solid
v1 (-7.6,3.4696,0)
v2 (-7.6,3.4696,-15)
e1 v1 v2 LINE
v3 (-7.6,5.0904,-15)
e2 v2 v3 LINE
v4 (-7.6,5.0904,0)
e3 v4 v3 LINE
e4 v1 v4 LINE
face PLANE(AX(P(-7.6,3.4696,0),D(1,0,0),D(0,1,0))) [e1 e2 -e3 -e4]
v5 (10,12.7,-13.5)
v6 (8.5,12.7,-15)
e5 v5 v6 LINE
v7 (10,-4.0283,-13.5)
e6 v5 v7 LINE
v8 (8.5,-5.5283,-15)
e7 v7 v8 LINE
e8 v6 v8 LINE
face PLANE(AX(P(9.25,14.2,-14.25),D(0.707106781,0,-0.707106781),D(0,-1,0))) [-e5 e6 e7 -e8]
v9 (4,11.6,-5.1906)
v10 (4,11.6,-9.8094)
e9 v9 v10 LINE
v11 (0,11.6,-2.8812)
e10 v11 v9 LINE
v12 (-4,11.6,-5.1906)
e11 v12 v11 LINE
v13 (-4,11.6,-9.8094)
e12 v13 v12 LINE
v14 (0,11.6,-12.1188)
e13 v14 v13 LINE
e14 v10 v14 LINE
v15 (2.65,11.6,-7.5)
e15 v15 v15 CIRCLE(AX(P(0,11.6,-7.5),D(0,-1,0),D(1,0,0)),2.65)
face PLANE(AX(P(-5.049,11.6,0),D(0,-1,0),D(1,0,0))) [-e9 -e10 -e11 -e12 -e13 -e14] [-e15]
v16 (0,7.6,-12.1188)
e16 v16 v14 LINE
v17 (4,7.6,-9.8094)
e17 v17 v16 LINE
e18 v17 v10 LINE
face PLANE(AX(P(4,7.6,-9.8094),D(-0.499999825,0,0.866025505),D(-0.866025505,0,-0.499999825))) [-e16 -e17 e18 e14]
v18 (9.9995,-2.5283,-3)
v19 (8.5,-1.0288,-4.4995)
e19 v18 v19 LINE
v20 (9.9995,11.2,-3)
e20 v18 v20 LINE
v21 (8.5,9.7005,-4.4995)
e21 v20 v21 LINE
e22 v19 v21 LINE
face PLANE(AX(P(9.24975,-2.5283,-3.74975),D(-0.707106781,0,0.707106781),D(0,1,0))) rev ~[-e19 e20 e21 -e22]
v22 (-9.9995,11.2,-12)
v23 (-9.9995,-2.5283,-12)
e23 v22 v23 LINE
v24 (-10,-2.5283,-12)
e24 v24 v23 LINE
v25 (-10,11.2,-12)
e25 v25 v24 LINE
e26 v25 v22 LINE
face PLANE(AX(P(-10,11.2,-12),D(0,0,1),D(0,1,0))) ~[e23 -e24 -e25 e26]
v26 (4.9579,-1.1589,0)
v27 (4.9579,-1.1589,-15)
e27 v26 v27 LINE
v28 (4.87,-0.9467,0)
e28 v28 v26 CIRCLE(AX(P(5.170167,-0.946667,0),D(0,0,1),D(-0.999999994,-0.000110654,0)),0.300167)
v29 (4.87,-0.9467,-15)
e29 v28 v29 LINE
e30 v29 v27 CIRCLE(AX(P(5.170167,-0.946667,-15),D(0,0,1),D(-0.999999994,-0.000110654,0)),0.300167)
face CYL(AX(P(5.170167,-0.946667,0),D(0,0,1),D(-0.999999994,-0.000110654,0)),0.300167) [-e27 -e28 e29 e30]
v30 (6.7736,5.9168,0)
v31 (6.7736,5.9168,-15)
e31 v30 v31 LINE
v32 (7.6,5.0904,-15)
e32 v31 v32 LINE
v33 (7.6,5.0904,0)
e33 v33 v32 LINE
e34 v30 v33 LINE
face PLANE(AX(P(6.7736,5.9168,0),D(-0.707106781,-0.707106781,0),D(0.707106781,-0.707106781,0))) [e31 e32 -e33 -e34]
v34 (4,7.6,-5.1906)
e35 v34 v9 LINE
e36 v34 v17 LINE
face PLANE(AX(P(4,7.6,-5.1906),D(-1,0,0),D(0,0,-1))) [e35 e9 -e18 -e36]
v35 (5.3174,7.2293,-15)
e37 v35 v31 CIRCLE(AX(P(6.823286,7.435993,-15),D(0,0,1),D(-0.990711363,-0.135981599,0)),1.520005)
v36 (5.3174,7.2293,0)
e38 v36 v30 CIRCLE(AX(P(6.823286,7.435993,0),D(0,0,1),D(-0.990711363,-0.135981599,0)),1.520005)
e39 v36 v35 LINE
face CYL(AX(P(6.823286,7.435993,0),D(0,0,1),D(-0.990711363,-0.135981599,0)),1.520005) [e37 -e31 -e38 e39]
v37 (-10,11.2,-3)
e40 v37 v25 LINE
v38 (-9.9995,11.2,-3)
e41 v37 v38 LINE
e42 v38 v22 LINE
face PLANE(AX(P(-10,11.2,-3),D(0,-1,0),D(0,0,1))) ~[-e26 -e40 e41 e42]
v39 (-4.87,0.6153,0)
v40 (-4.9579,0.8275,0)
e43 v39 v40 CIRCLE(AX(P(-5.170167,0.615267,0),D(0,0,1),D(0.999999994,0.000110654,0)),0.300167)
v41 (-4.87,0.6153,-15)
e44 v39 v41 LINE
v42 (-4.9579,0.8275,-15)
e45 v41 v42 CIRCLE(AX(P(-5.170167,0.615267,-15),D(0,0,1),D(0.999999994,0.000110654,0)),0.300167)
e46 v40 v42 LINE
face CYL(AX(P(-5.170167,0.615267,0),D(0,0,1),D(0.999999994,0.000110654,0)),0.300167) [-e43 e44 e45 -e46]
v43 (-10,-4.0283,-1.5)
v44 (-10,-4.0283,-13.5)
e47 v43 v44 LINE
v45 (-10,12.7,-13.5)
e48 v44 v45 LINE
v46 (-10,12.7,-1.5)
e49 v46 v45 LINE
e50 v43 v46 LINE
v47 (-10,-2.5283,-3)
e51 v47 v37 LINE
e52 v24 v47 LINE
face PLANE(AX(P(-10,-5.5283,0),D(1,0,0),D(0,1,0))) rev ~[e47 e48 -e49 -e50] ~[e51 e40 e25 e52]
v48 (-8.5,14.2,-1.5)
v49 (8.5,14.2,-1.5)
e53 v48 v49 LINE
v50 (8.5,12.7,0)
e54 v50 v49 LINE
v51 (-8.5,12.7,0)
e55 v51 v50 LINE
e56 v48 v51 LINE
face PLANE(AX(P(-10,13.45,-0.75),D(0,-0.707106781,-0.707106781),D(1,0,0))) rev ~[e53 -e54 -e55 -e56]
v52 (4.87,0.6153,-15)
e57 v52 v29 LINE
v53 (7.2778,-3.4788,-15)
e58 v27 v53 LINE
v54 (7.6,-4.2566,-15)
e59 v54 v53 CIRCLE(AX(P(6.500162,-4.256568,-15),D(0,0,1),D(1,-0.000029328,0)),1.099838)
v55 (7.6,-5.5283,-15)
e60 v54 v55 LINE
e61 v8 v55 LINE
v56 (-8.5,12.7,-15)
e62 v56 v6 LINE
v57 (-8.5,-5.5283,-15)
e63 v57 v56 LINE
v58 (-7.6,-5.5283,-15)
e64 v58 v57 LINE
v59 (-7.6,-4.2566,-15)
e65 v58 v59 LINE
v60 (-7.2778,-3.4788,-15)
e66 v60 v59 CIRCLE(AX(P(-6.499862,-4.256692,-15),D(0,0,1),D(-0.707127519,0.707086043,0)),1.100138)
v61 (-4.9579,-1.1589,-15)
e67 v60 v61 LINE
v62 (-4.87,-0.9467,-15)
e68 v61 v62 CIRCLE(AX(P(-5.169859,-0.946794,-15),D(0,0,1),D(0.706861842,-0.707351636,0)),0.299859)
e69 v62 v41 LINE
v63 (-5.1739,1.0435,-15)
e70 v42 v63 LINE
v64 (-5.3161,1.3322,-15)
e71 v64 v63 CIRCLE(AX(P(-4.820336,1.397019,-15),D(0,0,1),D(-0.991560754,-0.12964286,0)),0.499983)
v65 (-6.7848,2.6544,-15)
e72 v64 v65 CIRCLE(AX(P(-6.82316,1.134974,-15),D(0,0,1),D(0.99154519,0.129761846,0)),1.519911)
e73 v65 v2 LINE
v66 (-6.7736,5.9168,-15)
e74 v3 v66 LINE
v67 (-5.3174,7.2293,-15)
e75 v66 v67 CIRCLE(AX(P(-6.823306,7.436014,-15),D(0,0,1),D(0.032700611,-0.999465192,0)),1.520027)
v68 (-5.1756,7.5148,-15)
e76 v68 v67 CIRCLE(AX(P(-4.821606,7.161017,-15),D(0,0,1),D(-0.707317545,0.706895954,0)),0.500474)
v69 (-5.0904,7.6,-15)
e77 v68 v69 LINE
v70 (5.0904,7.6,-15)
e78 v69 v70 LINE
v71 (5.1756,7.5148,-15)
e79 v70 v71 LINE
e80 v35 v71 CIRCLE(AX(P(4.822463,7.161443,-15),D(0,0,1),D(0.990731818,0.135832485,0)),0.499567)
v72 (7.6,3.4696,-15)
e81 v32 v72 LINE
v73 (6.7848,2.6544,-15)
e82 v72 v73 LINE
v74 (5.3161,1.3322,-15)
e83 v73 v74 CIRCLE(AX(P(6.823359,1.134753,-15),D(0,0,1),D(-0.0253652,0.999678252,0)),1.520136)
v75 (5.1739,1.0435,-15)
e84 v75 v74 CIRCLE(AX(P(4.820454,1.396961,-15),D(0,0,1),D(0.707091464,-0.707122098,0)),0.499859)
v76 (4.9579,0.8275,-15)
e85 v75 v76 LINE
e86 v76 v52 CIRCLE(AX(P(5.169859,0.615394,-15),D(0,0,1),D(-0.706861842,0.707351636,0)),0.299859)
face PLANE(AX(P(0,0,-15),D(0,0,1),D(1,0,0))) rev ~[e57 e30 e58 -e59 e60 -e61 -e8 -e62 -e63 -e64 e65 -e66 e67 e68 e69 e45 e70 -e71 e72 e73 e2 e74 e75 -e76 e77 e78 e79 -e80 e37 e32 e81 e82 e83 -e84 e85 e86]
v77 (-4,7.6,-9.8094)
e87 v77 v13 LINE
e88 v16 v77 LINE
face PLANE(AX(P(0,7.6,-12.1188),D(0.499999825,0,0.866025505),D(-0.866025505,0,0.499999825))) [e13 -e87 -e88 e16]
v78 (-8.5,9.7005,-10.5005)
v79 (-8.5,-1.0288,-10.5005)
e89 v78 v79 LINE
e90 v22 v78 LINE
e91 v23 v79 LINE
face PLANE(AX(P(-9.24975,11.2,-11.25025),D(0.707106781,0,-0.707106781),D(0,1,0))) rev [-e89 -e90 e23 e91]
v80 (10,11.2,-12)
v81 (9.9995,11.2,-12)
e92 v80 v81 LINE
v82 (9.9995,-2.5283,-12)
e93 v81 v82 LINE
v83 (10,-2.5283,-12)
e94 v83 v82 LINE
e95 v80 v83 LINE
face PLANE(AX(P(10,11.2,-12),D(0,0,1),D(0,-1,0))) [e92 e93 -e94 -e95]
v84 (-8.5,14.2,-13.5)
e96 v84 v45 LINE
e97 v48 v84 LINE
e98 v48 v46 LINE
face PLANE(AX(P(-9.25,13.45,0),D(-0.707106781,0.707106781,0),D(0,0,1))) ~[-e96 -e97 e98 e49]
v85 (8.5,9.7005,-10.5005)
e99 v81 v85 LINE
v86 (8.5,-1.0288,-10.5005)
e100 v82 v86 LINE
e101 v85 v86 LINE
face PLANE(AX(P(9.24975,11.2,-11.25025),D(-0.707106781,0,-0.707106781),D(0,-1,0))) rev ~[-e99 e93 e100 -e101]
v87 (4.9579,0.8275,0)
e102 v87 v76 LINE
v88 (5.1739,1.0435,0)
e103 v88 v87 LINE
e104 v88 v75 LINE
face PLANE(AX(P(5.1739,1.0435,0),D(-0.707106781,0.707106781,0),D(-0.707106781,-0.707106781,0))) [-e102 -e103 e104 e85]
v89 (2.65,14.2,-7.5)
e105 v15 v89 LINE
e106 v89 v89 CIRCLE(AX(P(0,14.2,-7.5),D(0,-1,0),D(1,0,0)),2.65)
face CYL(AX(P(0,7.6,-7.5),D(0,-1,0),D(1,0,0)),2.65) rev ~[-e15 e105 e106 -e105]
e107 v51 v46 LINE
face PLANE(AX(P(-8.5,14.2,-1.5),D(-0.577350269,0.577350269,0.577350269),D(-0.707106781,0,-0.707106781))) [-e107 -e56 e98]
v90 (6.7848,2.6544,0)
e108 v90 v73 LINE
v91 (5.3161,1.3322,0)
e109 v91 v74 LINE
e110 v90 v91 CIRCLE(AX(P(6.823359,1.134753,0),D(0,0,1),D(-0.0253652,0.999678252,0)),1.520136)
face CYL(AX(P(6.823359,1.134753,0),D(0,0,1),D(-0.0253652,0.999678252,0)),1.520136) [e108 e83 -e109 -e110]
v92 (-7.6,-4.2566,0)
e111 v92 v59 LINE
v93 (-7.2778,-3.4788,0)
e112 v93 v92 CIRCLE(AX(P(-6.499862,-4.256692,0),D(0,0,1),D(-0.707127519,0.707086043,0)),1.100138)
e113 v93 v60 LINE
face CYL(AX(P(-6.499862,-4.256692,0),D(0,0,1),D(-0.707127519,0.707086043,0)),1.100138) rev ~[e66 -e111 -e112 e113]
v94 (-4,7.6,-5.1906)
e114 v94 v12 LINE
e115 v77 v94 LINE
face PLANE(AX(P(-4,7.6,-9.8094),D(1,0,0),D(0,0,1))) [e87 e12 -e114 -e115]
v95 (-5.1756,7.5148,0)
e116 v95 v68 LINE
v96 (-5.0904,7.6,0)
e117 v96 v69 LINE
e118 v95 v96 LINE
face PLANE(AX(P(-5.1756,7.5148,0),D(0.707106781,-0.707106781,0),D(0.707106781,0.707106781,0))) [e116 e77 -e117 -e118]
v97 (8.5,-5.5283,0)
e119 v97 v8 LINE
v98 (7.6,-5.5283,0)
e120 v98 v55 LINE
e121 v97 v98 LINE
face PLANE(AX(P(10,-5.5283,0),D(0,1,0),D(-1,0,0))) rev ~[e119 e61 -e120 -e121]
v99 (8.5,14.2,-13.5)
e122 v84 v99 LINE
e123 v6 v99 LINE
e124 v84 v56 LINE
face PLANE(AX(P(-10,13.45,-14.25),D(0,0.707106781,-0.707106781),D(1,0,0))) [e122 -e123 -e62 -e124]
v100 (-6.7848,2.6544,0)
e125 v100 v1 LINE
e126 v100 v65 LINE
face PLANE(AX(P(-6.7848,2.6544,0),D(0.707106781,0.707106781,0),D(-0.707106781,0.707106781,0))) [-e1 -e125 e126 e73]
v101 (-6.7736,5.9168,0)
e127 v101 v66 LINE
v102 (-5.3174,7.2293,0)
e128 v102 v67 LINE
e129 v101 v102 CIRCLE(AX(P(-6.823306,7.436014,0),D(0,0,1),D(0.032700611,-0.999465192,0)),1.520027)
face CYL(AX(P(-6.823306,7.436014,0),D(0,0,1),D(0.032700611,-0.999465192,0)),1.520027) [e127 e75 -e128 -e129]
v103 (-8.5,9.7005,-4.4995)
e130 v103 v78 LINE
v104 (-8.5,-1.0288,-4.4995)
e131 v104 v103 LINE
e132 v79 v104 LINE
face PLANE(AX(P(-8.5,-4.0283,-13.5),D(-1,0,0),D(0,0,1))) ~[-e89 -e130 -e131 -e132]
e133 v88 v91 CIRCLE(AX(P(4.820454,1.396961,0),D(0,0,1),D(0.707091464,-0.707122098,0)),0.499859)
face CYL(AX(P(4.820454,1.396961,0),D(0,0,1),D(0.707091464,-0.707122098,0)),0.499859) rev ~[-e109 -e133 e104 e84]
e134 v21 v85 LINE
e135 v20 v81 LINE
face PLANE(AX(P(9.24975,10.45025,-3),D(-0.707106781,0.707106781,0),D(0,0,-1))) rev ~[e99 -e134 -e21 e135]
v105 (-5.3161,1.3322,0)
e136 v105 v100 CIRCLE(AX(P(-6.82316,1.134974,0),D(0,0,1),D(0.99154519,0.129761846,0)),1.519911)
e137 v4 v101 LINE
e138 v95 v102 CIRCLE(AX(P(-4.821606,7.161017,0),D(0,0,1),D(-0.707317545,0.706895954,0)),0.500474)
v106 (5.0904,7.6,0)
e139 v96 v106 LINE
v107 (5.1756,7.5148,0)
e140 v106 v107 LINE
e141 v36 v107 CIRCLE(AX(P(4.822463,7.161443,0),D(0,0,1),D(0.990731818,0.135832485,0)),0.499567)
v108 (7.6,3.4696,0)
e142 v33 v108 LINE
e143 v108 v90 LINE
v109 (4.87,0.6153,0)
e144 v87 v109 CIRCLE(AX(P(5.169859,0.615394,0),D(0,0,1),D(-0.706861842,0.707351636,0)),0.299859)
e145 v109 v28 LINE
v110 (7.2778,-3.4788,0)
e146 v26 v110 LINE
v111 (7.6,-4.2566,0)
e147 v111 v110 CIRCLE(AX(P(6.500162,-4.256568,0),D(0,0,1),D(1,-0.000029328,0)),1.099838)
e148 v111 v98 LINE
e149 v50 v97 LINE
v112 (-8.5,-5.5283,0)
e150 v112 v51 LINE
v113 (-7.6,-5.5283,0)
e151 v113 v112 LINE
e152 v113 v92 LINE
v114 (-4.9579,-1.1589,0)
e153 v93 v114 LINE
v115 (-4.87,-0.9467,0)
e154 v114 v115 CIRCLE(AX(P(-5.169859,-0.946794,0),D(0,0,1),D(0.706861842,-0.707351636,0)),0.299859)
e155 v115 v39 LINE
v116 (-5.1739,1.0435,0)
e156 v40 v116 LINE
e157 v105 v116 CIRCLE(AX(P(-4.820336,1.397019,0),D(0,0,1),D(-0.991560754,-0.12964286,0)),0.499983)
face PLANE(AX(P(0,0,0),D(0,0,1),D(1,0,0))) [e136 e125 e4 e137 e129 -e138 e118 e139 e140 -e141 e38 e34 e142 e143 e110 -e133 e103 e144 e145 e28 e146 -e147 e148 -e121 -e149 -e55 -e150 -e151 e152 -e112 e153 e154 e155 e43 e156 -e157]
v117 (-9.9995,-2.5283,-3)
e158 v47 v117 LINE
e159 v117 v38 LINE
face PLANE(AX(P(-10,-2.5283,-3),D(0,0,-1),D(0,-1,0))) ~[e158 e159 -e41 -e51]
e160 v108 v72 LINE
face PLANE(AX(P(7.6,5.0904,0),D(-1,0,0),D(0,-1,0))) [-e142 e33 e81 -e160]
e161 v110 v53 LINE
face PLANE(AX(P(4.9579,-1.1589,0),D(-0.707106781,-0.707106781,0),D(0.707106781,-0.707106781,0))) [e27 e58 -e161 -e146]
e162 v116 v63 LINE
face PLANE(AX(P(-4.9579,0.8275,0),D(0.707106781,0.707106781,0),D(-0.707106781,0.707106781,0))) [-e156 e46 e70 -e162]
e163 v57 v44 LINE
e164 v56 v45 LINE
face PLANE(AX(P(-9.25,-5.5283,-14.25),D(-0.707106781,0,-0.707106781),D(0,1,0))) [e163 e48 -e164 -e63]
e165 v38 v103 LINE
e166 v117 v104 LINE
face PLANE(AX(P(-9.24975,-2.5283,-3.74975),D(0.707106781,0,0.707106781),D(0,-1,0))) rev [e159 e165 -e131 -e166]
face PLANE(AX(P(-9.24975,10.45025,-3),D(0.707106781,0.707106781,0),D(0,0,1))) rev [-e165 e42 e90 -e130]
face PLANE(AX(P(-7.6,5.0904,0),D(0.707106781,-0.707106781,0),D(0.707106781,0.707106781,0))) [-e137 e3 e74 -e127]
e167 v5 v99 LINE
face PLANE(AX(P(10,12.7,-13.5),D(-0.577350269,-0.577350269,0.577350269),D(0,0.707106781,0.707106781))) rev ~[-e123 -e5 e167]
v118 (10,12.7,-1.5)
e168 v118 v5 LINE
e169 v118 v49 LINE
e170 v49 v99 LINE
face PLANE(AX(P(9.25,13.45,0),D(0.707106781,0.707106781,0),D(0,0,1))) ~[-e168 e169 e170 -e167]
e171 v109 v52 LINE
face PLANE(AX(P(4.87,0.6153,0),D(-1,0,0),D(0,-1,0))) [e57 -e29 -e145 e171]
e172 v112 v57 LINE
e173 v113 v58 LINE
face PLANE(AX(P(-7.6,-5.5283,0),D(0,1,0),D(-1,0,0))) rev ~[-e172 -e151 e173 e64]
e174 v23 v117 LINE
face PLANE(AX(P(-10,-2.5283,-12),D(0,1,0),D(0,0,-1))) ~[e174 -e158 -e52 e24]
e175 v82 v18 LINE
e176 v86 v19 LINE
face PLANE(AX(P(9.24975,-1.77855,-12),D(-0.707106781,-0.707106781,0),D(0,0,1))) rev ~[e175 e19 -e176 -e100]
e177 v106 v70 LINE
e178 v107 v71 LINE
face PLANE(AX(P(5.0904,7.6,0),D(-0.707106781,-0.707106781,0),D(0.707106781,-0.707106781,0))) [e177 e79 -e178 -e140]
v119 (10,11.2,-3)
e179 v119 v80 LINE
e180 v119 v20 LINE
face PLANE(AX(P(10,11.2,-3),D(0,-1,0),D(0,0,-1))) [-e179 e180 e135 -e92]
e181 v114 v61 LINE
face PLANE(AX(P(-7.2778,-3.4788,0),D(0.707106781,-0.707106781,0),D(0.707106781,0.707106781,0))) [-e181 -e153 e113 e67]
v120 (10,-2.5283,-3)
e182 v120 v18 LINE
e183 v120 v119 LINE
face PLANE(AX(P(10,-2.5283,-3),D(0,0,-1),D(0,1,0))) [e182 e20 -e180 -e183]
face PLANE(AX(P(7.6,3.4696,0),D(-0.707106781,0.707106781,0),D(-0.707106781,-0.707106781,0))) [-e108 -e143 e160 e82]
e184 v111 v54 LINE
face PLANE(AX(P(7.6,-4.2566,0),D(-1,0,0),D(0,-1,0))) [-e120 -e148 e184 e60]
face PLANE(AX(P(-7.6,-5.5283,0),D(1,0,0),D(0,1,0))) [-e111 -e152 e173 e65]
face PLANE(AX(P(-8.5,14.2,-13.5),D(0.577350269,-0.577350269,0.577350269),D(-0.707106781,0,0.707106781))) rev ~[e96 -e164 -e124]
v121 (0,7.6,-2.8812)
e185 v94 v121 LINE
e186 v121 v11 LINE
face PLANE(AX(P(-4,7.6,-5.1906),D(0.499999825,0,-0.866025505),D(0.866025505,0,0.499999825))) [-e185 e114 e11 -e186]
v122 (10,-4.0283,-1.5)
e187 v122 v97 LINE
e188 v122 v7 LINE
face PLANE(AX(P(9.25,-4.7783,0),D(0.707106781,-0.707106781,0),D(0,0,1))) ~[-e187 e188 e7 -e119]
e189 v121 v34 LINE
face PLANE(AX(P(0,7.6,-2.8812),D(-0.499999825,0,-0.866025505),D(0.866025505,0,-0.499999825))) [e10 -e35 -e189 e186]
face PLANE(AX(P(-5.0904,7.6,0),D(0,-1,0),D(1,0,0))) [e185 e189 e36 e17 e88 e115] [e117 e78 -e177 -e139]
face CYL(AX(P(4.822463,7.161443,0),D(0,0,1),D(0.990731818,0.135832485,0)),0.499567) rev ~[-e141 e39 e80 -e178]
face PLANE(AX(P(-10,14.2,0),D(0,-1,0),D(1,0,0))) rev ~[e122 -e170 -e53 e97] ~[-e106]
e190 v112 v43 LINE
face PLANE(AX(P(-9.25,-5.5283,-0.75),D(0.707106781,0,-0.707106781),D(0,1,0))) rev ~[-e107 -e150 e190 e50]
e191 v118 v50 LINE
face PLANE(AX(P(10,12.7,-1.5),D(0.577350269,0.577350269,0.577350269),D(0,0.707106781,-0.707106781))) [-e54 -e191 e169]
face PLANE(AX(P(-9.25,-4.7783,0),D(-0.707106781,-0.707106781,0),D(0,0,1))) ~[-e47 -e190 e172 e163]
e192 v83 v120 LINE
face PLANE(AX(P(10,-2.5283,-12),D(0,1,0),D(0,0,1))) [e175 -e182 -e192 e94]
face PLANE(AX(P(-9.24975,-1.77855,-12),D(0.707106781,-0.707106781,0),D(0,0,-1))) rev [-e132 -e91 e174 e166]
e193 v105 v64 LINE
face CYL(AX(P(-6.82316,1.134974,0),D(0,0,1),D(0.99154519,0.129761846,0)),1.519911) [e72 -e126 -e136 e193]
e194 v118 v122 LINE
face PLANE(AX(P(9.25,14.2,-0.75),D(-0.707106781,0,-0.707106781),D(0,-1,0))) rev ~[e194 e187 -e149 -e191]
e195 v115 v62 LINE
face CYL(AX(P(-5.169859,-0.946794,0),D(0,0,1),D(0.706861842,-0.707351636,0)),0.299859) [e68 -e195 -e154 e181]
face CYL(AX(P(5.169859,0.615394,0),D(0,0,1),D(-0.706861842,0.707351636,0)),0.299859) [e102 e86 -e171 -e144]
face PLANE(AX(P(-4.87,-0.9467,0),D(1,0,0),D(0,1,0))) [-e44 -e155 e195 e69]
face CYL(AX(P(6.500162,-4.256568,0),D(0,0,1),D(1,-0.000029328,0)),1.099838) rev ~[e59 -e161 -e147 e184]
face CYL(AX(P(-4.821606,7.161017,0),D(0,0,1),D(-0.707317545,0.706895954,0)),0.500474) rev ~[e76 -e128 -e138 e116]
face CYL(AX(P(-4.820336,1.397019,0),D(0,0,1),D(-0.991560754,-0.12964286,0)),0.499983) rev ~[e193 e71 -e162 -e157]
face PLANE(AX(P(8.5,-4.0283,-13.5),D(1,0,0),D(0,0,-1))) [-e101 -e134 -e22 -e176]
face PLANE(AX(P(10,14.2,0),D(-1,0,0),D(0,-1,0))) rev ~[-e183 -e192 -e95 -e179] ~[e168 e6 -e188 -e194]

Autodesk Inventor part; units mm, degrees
ref_plane "YZ Plane" through (0, 0, 0) normal (1, 0, 0) x (0, 1, 0)
ref_plane "XZ Plane" through (0, 0, 0) normal (0, 1, 0) x (-1, 0, 0)
ref_plane "XY Plane" through (0, 0, 0) normal (0, 0, 1) x (1, 0, 0)
sketch "Sketch1" plane through (0, 0, 0) normal (0, 0, 1) x (1, 0, 0)
  arc A0 (-5.217, 1.3451) -> (-5.1032, 1.1142) centre (-4.8204, 1.397) ccw projected
  line L0 (-5.1032, 1.1142) -> (-4.8872, 0.8982) projected
  arc A1 (-4.77, 0.6153) -> (-4.8872, 0.8982) centre (-5.17, 0.6153) ccw projected
  line L1 (-4.77, 0.6153) -> (-4.77, -0.9467) projected
  arc A2 (-4.8872, -1.2296) -> (-4.77, -0.9467) centre (-5.17, -0.9467) ccw projected
  line L2 (-4.8872, -1.2296) -> (-7.2071, -3.5495) projected
  arc A3 (-7.2071, -3.5495) -> (-7.5, -4.2566) centre (-6.5, -4.2566) ccw projected
  line L3 (-7.5, -4.2566) -> (-7.5, -6.8) projected
  line L4 (-7.5, -6.8) -> (-6.8, -7.5) projected
  line L5 (-6.8, -7.5) -> (6.8, -7.5) projected
  line L6 (6.8, -7.5) -> (7.5, -6.8) projected
  line L7 (7.5, -6.8) -> (7.5, -4.2566) projected
  arc A4 (7.5, -4.2566) -> (7.2071, -3.5495) centre (6.5, -4.2566) ccw projected
  line L8 (7.2071, -3.5495) -> (4.8872, -1.2296) projected
  arc A5 (4.77, -0.9467) -> (4.8872, -1.2296) centre (5.17, -0.9467) ccw projected
  line L9 (4.77, -0.9467) -> (4.77, 0.6153) projected
  arc A6 (4.8872, 0.8982) -> (4.77, 0.6153) centre (5.17, 0.6153) ccw projected
  line L10 (4.8872, 0.8982) -> (5.1032, 1.1142) projected
  arc A7 (5.1032, 1.1142) -> (5.217, 1.3451) centre (4.8204, 1.397) ccw projected
  arc A8 (6.7419, 2.7529) -> (5.217, 1.3451) centre (6.8233, 1.1349) ccw projected
  line L11 (6.7419, 2.7529) -> (7.5, 3.511) projected
  line L12 (7.5, 3.511) -> (7.5, 5.049) projected
  line L13 (7.5, 5.049) -> (6.7304, 5.8186) projected
  arc A9 (5.2183, 7.2157) -> (6.7304, 5.8186) centre (6.8233, 7.436) ccw projected
  arc A10 (5.2183, 7.2157) -> (5.1049, 7.4441) centre (4.822, 7.1613) ccw projected
  line L14 (5.1049, 7.4441) -> (5.049, 7.5) projected
  line L15 (5.049, 7.5) -> (-5.049, 7.5) projected
  line L16 (-5.049, 7.5) -> (-5.1049, 7.4441) projected
  arc A11 (-5.1049, 7.4441) -> (-5.2183, 7.2157) centre (-4.822, 7.1613) ccw projected
  arc A12 (-6.7304, 5.8186) -> (-5.2183, 7.2157) centre (-6.8233, 7.436) ccw projected
  line L17 (-6.7304, 5.8186) -> (-7.5, 5.049) projected
  line L18 (-7.5, 5.049) -> (-7.5, 3.511) projected
  line L19 (-7.5, 3.511) -> (-6.7419, 2.7529) projected
  arc A13 (-5.217, 1.3451) -> (-6.7419, 2.7529) centre (-6.8233, 1.1349) ccw projected
  line L20 (-7.5, -5.5283) -> (-10, -5.5283)
  line L21 (-10, -5.5283) -> (-10, 14.2)
  line L22 (-10, 14.2) -> (10, 14.2)
  line L23 (10, 14.2) -> (10, -5.5283)
  line L24 (10, -5.5283) -> (7.5, -5.5283)
  arc A14 (-7.2778, -3.4788) -> (-7.6, -4.2566) centre (-6.5, -4.2566) ccw
  line L25 (-7.2778, -3.4788) -> (-4.9579, -1.1589)
  arc A15 (-4.9579, -1.1589) -> (-4.87, -0.9467) centre (-5.17, -0.9467) ccw
  line L26 (-4.87, -0.9467) -> (-4.87, 0.6153)
  arc A16 (-4.87, 0.6153) -> (-4.9579, 0.8275) centre (-5.17, 0.6153) ccw
  line L27 (-4.9579, 0.8275) -> (-5.1739, 1.0435)
  arc A17 (-5.3161, 1.3322) -> (-5.1739, 1.0435) centre (-4.8204, 1.397) ccw
  arc A18 (-5.3161, 1.3322) -> (-6.7848, 2.6544) centre (-6.8233, 1.1349) ccw
  line L28 (-6.7848, 2.6544) -> (-7.6, 3.4696)
  line L29 (-7.6, 3.4696) -> (-7.6, 5.0904)
  line L30 (-7.6, 5.0904) -> (-6.7736, 5.9168)
  arc A19 (-6.7736, 5.9168) -> (-5.3174, 7.2293) centre (-6.8233, 7.436) ccw
  arc A20 (-5.1756, 7.5148) -> (-5.3174, 7.2293) centre (-4.822, 7.1613) ccw
  line L31 (-5.1756, 7.5148) -> (-5.0904, 7.6)
  line L32 (-5.0904, 7.6) -> (5.0904, 7.6)
  line L33 (5.0904, 7.6) -> (5.1756, 7.5148)
  arc A21 (5.3174, 7.2293) -> (5.1756, 7.5148) centre (4.822, 7.1613) ccw
  arc A22 (5.3174, 7.2293) -> (6.7736, 5.9168) centre (6.8233, 7.436) ccw
  line L34 (6.7736, 5.9168) -> (7.6, 5.0904)
  line L35 (7.6, 5.0904) -> (7.6, 3.4696)
  line L36 (7.6, 3.4696) -> (6.7848, 2.6544)
  arc A23 (6.7848, 2.6544) -> (5.3161, 1.3322) centre (6.8233, 1.1349) ccw
  arc A24 (5.1739, 1.0435) -> (5.3161, 1.3322) centre (4.8204, 1.397) ccw
  line L37 (5.1739, 1.0435) -> (4.9579, 0.8275)
  arc A25 (4.9579, 0.8275) -> (4.87, 0.6153) centre (5.17, 0.6153) ccw
  line L38 (4.87, 0.6153) -> (4.87, -0.9467)
  arc A26 (4.87, -0.9467) -> (4.9579, -1.1589) centre (5.17, -0.9467) ccw
  line L39 (4.9579, -1.1589) -> (7.2778, -3.4788)
  arc A27 (7.6, -4.2566) -> (7.2778, -3.4788) centre (6.5, -4.2566) ccw
  line L40 (7.6, -4.2566) -> (7.6, -6.8414)
  line L41 (7.6, -6.8414) -> (6.8414, -7.6)
  line L42 (6.8414, -7.6) -> (-6.8414, -7.6)
  line L43 (-6.8414, -7.6) -> (-7.6, -6.8414)
  line L44 (-7.6, -6.8414) -> (-7.6, -4.2566)
  point P0 (0, 0)
  point P1 (-7.6, -5.5283)
  point P2 (7.6, -5.5283)
  dimension "d2" = 6.7
  dimension "d20" = 2.5
  dimension "d21" = 0.1
extrude "Extrusion1" add sketch "Sketch1" against normal blind 15 contours L20 L21 L22 L23 L24 L40 A27 L39 A26 L38 A25 L37 A24 A23 L36 L35 L34 A22 A21 L33 L32 L31 A20 A19 L30 L29 L28 A18 A17 L27 A16 L26 A15 L25 A14 L44
chamfer "Chamfer1" distance 1.5 angle 45 10 edges at (-10, -5.5283, -7.5) (-10, 4.3358, -15) (-10, 4.3358, 0) (0, 14.2, -15) (0, 14.2, 0) (-10, 14.2, -7.5) (10, 4.3358, -15) (10, 4.3358, 0) (10, -5.5283, -7.5) (10, 14.2, -7.5)
sketch "Sketch3" plane through (-5.049, 7.6, 0) normal (0, -1, 0) x (1, 0, 0)
  line L0 (5.049, 0) -> (5.049, -15) construction
  circle A0 centre (5.049, -7.5) radius 2.65
  line L1 (10.1394, -15) -> (-0.0414, -15) projected
  dimension "d8" = 5.3
extrude "Extrusion2" cut sketch "Sketch3" against normal blind 15
sketch "Sketch4" plane through (-5.049, 7.6, 0) normal (0, -1, 0) x (1, 0, 0)
  line L0 (1.049, -5.1906) -> (5.049, -2.8812)
  line L1 (5.049, -2.8812) -> (9.049, -5.1906)
  line L2 (9.049, -5.1906) -> (9.049, -9.8094)
  line L3 (9.049, -9.8094) -> (5.049, -12.1188)
  line L4 (5.049, -12.1188) -> (1.049, -9.8094)
  line L5 (1.049, -9.8094) -> (1.049, -5.1906)
  point P0 (5.049, 0)
  point P1 (5.049, -7.5)
  point P2 (5.049, -7.5)
  dimension "d11" = 8
extrude "Extrusion3" cut sketch "Sketch4" against normal blind 4
sketch "Sketch5" plane through (10, -4.0283, -13.5) normal (1, 0, 0) x (0, 0, -1)
  line L0 (0, 0) -> (-12, 0) projected
  line L1 (0, 16.7283) -> (0, 0) projected
  line L2 (-12, 16.7283) -> (0, 16.7283) projected
  line L3 (-12, 0) -> (-12, 16.7283) projected
  line L4 (-10.5, 15.2283) -> (-1.5, 15.2283)
  line L5 (-1.5, 15.2283) -> (-1.5, 1.5)
  line L6 (-1.5, 1.5) -> (-10.5, 1.5)
  line L7 (-10.5, 1.5) -> (-10.5, 15.2283)
  point P0 (-13.5, 4.0283)
  dimension "d14" = 1.5
extrude "Extrusion4" cut sketch "Sketch5" against normal blind 1.5 contours L4 L5 L6 L7
chamfer "Chamfer2" distance 1.5 angle 45 4 edges at (8.5, 4.3358, -3) (8.5, -2.5283, -7.5) (8.5, 11.2, -7.5) (8.5, 4.3358, -12)
mirror "Mirror1" about plane through (0, 0, 0) normal (1, 0, 0) of "Extrusion4", "Chamfer2"
properties part number "Tope Final" material "PET Plastic"
